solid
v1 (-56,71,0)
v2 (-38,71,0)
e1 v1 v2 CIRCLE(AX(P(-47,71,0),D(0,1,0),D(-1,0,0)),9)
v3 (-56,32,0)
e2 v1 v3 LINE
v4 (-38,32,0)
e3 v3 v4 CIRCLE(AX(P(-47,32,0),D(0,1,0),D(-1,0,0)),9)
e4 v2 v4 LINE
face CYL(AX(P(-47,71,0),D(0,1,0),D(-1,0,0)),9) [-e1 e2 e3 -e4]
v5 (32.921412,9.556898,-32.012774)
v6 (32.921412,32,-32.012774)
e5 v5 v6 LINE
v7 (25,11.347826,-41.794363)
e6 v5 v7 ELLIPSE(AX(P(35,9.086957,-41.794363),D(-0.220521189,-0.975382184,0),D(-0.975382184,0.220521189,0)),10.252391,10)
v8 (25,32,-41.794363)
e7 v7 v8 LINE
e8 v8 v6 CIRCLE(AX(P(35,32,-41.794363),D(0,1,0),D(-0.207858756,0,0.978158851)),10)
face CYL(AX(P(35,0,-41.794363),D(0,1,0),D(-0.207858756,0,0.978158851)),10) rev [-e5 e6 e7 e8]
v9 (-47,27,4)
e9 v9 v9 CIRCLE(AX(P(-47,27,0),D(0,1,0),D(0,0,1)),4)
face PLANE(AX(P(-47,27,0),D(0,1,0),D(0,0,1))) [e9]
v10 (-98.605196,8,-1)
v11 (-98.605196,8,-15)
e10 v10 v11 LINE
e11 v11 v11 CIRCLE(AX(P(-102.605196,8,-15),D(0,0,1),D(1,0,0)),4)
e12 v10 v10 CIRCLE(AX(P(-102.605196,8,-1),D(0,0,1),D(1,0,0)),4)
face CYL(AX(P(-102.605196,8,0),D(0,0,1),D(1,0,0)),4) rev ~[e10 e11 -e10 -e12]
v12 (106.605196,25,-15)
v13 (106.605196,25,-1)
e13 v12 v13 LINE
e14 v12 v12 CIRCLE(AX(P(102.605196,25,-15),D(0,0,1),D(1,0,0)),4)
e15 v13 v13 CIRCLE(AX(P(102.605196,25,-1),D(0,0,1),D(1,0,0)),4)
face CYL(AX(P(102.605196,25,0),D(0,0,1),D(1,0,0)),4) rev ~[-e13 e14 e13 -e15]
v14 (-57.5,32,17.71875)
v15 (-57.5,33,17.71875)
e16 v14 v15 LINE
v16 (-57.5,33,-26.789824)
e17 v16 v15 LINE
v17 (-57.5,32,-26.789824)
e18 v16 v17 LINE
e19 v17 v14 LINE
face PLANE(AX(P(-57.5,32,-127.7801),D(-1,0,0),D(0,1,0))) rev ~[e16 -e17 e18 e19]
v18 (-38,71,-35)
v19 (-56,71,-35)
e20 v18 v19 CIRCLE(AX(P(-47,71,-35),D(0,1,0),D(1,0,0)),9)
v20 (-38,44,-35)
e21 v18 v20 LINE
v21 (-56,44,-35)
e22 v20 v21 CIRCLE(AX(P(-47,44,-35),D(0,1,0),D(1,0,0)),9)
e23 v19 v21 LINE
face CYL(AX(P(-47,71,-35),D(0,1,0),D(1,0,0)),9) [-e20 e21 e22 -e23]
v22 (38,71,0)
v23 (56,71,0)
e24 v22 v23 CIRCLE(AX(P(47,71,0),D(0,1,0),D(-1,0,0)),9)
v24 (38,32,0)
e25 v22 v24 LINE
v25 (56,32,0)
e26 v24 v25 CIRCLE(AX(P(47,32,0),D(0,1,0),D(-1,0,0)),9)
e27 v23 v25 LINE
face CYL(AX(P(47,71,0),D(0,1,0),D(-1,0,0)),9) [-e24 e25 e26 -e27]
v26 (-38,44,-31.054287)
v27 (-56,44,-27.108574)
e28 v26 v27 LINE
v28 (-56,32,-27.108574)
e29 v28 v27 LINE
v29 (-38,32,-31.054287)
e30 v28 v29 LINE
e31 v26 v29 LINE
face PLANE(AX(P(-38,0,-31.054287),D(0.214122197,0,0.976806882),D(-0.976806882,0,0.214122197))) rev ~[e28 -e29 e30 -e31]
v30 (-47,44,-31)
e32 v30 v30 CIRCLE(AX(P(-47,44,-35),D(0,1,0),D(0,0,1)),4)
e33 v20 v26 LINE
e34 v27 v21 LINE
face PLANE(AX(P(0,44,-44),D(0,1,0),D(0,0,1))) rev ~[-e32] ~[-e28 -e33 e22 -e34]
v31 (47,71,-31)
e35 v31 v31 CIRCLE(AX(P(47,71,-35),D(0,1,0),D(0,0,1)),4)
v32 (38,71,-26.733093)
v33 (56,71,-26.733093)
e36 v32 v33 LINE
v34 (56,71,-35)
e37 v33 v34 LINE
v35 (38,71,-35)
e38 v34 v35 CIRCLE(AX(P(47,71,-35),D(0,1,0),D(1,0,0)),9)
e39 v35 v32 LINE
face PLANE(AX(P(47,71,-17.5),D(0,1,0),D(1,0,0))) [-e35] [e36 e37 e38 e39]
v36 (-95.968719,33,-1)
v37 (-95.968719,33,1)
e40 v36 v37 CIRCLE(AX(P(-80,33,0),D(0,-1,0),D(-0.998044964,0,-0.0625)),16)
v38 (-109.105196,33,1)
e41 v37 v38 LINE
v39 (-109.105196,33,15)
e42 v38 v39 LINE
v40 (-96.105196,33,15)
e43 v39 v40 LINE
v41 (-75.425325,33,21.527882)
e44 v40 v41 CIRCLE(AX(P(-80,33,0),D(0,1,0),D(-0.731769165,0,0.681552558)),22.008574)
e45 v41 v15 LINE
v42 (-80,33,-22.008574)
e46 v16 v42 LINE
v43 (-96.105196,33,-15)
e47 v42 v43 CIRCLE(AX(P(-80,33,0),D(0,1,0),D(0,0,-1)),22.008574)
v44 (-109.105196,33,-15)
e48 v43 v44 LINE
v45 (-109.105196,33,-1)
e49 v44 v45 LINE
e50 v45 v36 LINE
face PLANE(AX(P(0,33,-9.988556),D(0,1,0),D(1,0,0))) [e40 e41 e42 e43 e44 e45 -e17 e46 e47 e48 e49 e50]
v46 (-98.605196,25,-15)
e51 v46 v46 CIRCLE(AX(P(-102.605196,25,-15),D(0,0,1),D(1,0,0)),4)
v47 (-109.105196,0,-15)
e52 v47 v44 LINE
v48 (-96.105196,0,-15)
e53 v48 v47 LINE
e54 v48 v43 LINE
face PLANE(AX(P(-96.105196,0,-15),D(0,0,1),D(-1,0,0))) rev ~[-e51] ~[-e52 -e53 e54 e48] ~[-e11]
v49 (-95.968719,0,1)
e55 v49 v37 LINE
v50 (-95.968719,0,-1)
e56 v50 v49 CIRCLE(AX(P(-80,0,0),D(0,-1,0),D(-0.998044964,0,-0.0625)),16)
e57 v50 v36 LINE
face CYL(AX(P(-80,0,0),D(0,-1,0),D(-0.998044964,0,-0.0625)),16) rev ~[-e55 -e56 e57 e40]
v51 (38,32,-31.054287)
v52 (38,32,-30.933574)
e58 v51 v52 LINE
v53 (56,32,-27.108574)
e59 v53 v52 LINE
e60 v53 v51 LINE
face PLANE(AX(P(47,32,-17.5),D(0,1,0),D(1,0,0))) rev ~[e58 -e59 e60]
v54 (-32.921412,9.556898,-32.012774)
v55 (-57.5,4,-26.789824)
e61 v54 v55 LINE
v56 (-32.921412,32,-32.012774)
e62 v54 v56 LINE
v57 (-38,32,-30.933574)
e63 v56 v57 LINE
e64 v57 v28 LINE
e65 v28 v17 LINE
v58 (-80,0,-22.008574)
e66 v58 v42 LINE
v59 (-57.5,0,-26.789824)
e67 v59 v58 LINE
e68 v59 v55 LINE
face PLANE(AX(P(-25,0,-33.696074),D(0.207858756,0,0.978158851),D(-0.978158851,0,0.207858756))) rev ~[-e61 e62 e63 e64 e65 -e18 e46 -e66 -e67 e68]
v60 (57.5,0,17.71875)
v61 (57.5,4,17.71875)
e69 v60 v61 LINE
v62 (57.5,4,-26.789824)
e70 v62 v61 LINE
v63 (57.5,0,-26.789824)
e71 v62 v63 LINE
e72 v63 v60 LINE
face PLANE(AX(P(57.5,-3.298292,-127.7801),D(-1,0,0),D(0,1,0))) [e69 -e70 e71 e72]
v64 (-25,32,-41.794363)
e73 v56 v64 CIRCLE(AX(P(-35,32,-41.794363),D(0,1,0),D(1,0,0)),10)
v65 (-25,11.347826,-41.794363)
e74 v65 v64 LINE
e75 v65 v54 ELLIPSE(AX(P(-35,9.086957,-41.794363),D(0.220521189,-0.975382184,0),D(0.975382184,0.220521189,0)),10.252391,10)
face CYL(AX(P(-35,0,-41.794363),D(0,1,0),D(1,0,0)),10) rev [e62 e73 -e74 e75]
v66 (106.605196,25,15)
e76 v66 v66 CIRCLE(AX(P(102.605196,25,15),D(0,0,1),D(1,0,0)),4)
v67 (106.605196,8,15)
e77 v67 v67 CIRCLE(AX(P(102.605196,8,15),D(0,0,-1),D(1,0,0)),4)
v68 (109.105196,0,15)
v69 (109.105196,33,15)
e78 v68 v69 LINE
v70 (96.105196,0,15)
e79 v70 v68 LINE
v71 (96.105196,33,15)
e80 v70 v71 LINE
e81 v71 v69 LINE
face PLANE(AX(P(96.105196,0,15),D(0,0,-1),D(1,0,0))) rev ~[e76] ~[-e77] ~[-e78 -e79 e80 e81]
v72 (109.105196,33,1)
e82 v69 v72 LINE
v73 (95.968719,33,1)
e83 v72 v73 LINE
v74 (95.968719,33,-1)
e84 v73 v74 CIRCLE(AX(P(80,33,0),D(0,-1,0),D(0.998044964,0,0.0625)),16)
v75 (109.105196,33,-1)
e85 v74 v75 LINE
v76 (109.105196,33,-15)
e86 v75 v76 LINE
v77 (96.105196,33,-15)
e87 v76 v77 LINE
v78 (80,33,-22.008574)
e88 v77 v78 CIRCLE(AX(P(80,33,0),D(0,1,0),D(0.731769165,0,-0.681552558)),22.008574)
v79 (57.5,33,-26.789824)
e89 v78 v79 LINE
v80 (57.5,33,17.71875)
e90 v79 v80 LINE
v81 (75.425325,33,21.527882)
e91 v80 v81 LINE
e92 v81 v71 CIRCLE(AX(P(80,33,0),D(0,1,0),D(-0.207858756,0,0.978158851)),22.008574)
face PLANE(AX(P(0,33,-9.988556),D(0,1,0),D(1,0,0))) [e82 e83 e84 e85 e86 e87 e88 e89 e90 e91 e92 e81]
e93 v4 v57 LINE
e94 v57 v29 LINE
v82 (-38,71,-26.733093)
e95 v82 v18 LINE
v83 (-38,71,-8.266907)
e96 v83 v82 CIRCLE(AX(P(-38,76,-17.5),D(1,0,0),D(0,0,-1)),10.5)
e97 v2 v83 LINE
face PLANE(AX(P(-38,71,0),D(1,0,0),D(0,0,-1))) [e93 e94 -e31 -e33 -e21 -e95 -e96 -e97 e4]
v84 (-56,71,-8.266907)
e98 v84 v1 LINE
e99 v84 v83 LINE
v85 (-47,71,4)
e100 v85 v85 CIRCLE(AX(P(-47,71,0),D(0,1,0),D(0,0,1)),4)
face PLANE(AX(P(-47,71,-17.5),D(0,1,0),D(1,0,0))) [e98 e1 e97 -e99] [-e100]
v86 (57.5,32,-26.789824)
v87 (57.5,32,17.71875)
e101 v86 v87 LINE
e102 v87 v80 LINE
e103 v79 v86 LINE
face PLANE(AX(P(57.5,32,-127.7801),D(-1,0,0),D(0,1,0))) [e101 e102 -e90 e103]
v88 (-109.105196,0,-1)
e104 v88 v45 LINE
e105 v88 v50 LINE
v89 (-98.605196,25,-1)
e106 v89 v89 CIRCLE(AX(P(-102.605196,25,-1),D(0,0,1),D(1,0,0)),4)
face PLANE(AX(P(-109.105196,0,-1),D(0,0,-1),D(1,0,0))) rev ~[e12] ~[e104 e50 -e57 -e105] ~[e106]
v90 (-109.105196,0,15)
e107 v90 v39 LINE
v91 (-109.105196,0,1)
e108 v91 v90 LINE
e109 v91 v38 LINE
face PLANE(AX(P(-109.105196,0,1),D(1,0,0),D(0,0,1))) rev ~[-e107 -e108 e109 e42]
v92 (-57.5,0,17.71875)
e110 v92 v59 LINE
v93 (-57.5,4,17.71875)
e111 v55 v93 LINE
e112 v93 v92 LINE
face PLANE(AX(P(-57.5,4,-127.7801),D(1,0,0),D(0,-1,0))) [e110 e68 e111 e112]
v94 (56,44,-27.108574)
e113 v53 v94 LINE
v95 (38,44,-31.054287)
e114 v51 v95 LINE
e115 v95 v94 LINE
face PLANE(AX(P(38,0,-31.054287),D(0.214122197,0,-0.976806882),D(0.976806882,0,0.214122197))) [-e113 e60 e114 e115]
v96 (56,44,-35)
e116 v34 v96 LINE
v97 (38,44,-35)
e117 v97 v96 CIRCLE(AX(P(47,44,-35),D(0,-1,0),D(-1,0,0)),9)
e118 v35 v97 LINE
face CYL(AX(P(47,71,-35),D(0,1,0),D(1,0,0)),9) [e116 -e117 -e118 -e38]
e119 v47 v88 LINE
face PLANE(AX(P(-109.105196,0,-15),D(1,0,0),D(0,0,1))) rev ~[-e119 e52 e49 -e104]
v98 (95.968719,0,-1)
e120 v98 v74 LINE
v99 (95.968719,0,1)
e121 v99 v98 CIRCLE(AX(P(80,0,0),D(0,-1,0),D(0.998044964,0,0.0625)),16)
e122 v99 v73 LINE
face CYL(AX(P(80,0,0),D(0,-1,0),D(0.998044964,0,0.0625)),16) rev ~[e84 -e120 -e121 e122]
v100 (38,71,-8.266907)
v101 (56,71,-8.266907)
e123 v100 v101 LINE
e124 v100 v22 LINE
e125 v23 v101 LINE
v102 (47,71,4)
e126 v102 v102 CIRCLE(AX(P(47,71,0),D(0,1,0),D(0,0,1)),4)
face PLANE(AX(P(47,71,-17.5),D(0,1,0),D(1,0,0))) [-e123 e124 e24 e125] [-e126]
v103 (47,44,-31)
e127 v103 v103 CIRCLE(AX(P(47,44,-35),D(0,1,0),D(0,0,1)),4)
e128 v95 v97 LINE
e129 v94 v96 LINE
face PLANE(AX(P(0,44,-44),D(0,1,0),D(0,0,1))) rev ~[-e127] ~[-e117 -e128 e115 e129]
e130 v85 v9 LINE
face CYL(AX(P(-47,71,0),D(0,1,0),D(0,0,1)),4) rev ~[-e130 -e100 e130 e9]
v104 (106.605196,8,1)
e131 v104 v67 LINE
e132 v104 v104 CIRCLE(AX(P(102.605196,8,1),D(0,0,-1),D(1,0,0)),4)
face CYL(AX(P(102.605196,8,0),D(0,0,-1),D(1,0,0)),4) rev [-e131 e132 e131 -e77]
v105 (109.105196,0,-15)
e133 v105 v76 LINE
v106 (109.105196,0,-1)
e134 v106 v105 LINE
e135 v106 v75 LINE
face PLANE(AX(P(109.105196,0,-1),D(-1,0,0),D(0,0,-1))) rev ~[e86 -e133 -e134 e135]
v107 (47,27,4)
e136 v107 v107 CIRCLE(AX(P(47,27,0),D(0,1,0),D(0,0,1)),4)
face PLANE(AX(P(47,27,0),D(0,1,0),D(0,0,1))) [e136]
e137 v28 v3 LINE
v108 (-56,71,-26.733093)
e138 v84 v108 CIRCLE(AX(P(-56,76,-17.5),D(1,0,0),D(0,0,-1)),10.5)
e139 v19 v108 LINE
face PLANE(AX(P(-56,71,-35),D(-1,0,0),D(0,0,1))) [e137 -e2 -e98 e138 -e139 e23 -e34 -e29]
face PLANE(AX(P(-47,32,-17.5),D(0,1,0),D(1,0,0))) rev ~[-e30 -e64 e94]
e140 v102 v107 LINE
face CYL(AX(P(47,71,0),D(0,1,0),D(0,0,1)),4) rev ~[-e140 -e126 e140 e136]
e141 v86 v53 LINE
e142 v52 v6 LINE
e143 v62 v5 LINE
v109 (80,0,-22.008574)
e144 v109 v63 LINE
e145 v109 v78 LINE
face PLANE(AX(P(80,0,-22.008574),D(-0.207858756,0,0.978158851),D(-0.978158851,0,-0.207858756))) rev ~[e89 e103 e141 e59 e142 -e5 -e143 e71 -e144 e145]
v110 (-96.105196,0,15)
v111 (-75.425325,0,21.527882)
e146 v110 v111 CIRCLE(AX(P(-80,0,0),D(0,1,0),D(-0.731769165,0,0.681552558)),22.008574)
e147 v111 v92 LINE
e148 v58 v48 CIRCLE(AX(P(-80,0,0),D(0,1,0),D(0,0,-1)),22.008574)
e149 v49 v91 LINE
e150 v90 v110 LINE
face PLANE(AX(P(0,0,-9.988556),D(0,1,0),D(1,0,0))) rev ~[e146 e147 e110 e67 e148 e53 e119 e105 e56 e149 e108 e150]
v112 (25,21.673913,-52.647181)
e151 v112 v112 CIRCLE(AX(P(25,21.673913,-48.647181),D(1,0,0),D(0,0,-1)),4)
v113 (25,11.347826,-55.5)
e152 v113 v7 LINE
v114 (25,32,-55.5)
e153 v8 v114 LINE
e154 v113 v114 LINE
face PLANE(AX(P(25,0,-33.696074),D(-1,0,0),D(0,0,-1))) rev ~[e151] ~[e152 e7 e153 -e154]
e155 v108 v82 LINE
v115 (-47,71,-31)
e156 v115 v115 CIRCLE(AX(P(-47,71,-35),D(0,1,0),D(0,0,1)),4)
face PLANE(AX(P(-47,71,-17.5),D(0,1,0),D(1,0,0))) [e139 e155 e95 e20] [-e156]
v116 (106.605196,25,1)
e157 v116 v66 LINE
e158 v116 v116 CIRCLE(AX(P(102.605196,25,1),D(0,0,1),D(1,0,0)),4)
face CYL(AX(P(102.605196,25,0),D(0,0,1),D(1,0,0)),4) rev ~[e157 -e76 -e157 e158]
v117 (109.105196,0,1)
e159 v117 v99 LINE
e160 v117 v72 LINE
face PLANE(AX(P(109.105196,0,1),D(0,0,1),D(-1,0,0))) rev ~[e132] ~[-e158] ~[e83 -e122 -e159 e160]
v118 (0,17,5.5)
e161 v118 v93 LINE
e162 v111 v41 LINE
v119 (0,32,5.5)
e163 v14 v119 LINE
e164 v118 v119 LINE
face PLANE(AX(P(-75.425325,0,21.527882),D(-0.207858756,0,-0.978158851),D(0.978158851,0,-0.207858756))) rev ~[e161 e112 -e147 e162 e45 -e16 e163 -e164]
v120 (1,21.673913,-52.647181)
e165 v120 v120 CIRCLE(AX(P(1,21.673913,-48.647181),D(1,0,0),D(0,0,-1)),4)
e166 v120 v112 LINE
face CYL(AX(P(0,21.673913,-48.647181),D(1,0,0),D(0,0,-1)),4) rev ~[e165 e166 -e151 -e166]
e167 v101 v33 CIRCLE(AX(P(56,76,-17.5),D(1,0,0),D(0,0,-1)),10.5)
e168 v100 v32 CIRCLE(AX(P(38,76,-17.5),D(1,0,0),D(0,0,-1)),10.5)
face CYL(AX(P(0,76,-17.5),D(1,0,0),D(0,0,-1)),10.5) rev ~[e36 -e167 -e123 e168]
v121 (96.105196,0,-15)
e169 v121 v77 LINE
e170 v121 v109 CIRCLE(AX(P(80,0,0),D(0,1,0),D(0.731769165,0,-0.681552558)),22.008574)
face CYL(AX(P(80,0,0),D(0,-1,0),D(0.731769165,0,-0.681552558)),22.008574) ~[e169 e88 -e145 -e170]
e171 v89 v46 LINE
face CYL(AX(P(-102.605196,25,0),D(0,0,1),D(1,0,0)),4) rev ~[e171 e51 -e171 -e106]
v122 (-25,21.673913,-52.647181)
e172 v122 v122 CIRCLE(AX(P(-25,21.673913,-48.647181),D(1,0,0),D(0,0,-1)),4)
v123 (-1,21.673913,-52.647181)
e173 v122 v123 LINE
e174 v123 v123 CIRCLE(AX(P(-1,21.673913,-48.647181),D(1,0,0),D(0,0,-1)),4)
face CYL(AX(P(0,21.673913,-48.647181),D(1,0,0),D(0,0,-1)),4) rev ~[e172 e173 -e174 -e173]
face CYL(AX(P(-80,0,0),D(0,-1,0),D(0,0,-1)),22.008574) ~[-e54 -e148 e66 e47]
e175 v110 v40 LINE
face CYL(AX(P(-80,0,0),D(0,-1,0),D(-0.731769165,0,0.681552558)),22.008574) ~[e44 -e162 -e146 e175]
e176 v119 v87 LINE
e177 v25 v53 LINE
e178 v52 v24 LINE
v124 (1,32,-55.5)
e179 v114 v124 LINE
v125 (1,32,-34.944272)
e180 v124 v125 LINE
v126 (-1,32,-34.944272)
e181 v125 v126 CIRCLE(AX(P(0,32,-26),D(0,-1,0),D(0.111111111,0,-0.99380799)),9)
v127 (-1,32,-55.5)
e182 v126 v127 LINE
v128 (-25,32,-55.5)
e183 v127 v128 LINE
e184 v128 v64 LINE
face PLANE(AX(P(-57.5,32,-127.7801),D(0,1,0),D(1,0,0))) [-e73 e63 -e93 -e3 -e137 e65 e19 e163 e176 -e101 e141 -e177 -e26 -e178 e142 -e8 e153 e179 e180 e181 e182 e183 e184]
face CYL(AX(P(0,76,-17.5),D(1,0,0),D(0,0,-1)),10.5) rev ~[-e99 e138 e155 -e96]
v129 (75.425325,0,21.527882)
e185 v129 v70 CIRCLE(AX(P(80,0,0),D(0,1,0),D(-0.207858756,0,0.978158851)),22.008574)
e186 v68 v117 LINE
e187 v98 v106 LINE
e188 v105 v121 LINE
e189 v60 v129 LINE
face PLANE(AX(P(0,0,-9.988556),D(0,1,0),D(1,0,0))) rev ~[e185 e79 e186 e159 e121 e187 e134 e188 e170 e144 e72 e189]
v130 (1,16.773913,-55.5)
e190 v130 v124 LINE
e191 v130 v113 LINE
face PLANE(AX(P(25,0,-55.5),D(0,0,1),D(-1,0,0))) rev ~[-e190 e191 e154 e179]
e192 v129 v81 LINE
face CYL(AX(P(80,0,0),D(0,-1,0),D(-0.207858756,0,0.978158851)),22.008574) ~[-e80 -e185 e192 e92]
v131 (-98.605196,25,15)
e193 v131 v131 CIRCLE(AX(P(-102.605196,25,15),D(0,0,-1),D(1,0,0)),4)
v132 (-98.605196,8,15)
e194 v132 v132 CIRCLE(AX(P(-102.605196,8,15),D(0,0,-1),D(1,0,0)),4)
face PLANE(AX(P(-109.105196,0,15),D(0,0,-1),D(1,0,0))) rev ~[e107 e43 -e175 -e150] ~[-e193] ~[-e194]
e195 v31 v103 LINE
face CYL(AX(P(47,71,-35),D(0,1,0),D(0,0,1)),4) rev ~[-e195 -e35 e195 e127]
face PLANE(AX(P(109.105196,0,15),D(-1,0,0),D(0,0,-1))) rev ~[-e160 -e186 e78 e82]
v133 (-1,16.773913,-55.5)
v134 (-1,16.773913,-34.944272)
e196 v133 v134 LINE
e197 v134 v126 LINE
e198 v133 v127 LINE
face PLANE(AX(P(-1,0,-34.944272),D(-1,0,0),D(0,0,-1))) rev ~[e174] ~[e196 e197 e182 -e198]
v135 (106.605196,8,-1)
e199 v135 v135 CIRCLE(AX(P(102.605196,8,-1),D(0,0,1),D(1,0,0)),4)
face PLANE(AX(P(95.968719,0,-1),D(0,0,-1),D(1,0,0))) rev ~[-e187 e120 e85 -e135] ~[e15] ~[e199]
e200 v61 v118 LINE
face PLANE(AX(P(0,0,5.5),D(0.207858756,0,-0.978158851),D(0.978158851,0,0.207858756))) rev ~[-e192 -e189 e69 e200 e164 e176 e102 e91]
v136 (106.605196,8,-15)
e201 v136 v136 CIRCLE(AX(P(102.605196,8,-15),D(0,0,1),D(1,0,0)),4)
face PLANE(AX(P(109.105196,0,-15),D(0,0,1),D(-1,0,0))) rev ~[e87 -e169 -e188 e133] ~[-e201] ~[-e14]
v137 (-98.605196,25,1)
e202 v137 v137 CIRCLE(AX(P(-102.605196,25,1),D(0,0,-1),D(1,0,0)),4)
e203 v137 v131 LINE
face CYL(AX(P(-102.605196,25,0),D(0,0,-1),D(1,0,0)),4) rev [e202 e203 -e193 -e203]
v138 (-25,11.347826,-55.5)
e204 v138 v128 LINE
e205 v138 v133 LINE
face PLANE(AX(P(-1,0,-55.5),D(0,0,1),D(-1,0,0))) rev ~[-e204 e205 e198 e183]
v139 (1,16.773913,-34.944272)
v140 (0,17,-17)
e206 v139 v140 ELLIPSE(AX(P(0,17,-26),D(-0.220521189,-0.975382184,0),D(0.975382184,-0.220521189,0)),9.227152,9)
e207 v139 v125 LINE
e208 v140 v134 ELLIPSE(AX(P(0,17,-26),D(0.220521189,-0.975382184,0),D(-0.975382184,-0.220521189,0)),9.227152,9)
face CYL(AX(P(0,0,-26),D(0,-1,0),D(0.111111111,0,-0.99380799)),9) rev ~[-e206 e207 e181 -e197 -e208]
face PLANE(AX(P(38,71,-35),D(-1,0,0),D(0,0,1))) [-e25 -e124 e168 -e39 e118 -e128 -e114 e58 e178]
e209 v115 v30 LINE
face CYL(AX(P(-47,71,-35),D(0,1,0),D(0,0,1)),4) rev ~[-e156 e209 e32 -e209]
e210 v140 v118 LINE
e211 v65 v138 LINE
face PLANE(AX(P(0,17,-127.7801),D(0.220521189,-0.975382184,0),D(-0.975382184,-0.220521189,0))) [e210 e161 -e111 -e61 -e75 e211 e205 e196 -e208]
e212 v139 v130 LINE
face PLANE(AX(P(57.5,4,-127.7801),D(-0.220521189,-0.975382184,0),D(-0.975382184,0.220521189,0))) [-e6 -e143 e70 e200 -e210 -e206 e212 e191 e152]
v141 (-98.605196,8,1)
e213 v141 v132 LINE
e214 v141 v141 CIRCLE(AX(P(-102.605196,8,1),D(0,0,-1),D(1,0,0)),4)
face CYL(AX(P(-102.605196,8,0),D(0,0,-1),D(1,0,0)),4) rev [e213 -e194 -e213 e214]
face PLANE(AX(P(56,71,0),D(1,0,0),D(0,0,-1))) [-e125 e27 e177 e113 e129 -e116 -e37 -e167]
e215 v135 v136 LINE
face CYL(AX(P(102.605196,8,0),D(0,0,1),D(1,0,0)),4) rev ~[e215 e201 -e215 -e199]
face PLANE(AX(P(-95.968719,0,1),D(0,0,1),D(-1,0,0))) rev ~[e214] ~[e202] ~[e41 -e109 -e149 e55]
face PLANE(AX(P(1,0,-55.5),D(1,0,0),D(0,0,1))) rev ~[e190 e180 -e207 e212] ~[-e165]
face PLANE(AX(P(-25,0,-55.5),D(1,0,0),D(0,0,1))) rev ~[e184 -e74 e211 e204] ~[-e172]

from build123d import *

# Parameters (mm, degrees)
BOSS_EXTRUDE1_DEPTH     = 33
FILLET2_R               = 10
FILLET3_R               = 10
CUT_EXTRUDE1_DEPTH      = 127.78010009
CUT_EXTRUDE1_DEPTH_BACK = 127.78010009
SKETCH3_W               = 115
SKETCH3_H               = 4.910725557
BOSS_EXTRUDE3_DEPTH     = 39
CUT_EXTRUDE5_DEPTH      = 65.5
CUT_EXTRUDE6_DEPTH      = 44
SKETCH9_R               = 4
CUT_EXTRUDE7_DEPTH      = 44
SKETCH10_R              = 4
CUT_EXTRUDE8_DEPTH      = 22
SKETCH11_R              = 4
CUT_EXTRUDE9_DEPTH      = 31
SKETCH12_R              = 10.5
CUT_EXTRUDE10_DEPTH     = 106.5


with BuildPart() as part:
    # Sketch1 → Boss-Extrude1 (new body)
    with BuildSketch(Plane(origin=(0, 0, 0), x_dir=(1, 0, 0), z_dir=(0, 1, 0))):
        with BuildLine():
            Line((-25, 55.5), (-25, 33.696074146))
            Line((-25, 33.696074146), (-80, 22.008574146))
            ThreePointArc((-80, 22.008574146), (-88.782047704, 20.180509757), (-96.105195929, 15))
            Line((-96.105195929, 15), (-109.105195929, 15))
            Line((-109.105195929, 15), (-109.105195929, 1))
            Line((-109.105195929, 1), (-95.968719423, 1))
            ThreePointArc((-95.968719423, 1), (-64, 0), (-95.968719423, -1))
            Line((-95.968719423, -1), (-109.105195929, -1))
            Line((-109.105195929, -1), (-109.105195929, -15))
            Line((-109.105195929, -15), (-96.105195929, -15))
            ThreePointArc((-96.105195929, -15), (-86.625068957, -20.987753506), (-75.425325161, -21.527881597))
            Line((-75.425325161, -21.527881597), (0, -5.5))
            Line((0, -5.5), (75.425325161, -21.527881597))
            ThreePointArc((75.425325161, -21.527881597), (86.625068957, -20.987753506), (96.105195929, -15))
            Line((96.105195929, -15), (109.105195929, -15))
            Line((109.105195929, -15), (109.105195929, -1))
            Line((109.105195929, -1), (95.968719423, -1))
            ThreePointArc((95.968719423, -1), (64, 0), (95.968719423, 1))
            Line((95.968719423, 1), (109.105195929, 1))
            Line((109.105195929, 1), (109.105195929, 15))
            Line((109.105195929, 15), (96.105195929, 15))
            ThreePointArc((96.105195929, 15), (88.782047704, 20.180509757), (80, 22.008574146))
            Line((80, 22.008574146), (25, 33.696074146))
            Line((25, 33.696074146), (25, 55.5))
            Line((25, 55.5), (1, 55.5))
            Line((1, 55.5), (1, 34.94427191))
            ThreePointArc((1, 34.94427191), (0, 17), (-1, 34.94427191))
            Line((-1, 34.94427191), (-1, 55.5))
            Line((-1, 55.5), (-25, 55.5))
        make_face()
    extrude(amount=BOSS_EXTRUDE1_DEPTH)

    # Fillet2
    fillet2_edges = [part.edges().sort_by_distance(p)[0] for p in [
        (25, 16.5, -33.696074146),
    ]]
    fillet(fillet2_edges, radius=FILLET2_R)

    # Fillet3
    fillet3_edges = [part.edges().sort_by_distance(p)[0] for p in [
        (-25, 16.5, -33.696074146),
    ]]
    fillet(fillet3_edges, radius=FILLET3_R)

    # Sketch3 → Cut-Extrude1 (cut, two sides: drawn at the far end of the back side and taken through both)
    with BuildSketch(Plane.XY.offset(-CUT_EXTRUDE1_DEPTH_BACK)):
        with Locations((0, 34.455362779)):
            Rectangle(SKETCH3_W, SKETCH3_H)
        Polygon((-57.5, 4), (-57.5, -3.298292375), (57.5, -3.298292375), (57.5, 4), (0, 17), align=None)
    extrude(amount=CUT_EXTRUDE1_DEPTH + CUT_EXTRUDE1_DEPTH_BACK, mode=Mode.SUBTRACT)

    # Sketch5 → Boss-Extrude3 (add)
    with BuildSketch(Plane(origin=(0, 71, 0), x_dir=(1, 0, 0), z_dir=(0, 1, 0))):
        with BuildLine():
            Line((-38, 0), (-38, 35))
            ThreePointArc((-38, 35), (-47, 44), (-56, 35))
            Line((-56, 35), (-56, 0))
            ThreePointArc((-56, 0), (-47, -9), (-38, 0))
        make_face()
        with BuildLine():
            Line((56, 0), (56, 35))
            ThreePointArc((56, 35), (47, 44), (38, 35))
            Line((38, 35), (38, 0))
            ThreePointArc((38, 0), (47, -9), (56, 0))
        make_face()
    extrude(amount=-BOSS_EXTRUDE3_DEPTH)

    # Sketch6 → Cut-Extrude5 (cut, symmetric)
    with BuildSketch(Plane(origin=(0, 0, 0), x_dir=(0, 0, -1), z_dir=(1, 0, 0))):
        Polygon((44, 71), (44, 44), (31.054287073, 44), (31.054287073, 32), (44, 32), (62.918124126, 32), (62.918124126, 71), align=None)
    extrude(amount=CUT_EXTRUDE5_DEPTH, both=True, mode=Mode.SUBTRACT)

    # Sketch7 → Cut-Extrude6 (cut)
    with BuildSketch(Plane(origin=(0, 0, 0), x_dir=(1, 0, 0), z_dir=(0, 1, 0))):
        Polygon((-56, 31.054287073), (-38, 31.054287073), (-56, 27.108574146), align=None)
        Polygon((56, 27.108574146), (56, 31.054287073), (38, 31.054287073), align=None)
    extrude(amount=CUT_EXTRUDE6_DEPTH, mode=Mode.SUBTRACT)

    # Sketch9 → Cut-Extrude7 (cut)
    with BuildSketch(Plane(origin=(0, 71, 0), x_dir=(1, 0, 0), z_dir=(0, 1, 0))):
        with Locations(Location((-47, 0, 0), (0, 0, 270))):
            Circle(SKETCH9_R)
        with Locations(Location((-47, 35, 0), (0, 0, 270))):
            Circle(SKETCH9_R)
        with Locations(Location((47, 0, 0), (0, 0, 270))):
            Circle(SKETCH9_R)
        with Locations(Location((47, 35, 0), (0, 0, 270))):
            Circle(SKETCH9_R)
    extrude(amount=-CUT_EXTRUDE7_DEPTH, mode=Mode.SUBTRACT)

    # Sketch10 → Cut-Extrude8 (cut, symmetric)
    with BuildSketch(Plane.XY):
        with Locations((-102.605195929, 8)):
            Circle(SKETCH10_R)
        with Locations((-102.605195929, 25)):
            Circle(SKETCH10_R)
        with Locations((102.605195929, 8)):
            Circle(SKETCH10_R)
        with Locations((102.605195929, 25)):
            Circle(SKETCH10_R)
    extrude(amount=CUT_EXTRUDE8_DEPTH, both=True, mode=Mode.SUBTRACT)

    # Sketch11 → Cut-Extrude9 (cut, symmetric)
    with BuildSketch(Plane(origin=(0, 0, 0), x_dir=(0, 0, -1), z_dir=(1, 0, 0))):
        with Locations((48.647181255, 21.673913043)):
            Circle(SKETCH11_R)
    extrude(amount=CUT_EXTRUDE9_DEPTH, both=True, mode=Mode.SUBTRACT)

    # Sketch12 → Cut-Extrude10 (cut, symmetric)
    with BuildSketch(Plane(origin=(0, 0, 0), x_dir=(0, 0, -1), z_dir=(1, 0, 0))):
        with Locations((17.5, 76)):
            Circle(SKETCH12_R)
    extrude(amount=CUT_EXTRUDE10_DEPTH, both=True, mode=Mode.SUBTRACT)


solid = part.part
